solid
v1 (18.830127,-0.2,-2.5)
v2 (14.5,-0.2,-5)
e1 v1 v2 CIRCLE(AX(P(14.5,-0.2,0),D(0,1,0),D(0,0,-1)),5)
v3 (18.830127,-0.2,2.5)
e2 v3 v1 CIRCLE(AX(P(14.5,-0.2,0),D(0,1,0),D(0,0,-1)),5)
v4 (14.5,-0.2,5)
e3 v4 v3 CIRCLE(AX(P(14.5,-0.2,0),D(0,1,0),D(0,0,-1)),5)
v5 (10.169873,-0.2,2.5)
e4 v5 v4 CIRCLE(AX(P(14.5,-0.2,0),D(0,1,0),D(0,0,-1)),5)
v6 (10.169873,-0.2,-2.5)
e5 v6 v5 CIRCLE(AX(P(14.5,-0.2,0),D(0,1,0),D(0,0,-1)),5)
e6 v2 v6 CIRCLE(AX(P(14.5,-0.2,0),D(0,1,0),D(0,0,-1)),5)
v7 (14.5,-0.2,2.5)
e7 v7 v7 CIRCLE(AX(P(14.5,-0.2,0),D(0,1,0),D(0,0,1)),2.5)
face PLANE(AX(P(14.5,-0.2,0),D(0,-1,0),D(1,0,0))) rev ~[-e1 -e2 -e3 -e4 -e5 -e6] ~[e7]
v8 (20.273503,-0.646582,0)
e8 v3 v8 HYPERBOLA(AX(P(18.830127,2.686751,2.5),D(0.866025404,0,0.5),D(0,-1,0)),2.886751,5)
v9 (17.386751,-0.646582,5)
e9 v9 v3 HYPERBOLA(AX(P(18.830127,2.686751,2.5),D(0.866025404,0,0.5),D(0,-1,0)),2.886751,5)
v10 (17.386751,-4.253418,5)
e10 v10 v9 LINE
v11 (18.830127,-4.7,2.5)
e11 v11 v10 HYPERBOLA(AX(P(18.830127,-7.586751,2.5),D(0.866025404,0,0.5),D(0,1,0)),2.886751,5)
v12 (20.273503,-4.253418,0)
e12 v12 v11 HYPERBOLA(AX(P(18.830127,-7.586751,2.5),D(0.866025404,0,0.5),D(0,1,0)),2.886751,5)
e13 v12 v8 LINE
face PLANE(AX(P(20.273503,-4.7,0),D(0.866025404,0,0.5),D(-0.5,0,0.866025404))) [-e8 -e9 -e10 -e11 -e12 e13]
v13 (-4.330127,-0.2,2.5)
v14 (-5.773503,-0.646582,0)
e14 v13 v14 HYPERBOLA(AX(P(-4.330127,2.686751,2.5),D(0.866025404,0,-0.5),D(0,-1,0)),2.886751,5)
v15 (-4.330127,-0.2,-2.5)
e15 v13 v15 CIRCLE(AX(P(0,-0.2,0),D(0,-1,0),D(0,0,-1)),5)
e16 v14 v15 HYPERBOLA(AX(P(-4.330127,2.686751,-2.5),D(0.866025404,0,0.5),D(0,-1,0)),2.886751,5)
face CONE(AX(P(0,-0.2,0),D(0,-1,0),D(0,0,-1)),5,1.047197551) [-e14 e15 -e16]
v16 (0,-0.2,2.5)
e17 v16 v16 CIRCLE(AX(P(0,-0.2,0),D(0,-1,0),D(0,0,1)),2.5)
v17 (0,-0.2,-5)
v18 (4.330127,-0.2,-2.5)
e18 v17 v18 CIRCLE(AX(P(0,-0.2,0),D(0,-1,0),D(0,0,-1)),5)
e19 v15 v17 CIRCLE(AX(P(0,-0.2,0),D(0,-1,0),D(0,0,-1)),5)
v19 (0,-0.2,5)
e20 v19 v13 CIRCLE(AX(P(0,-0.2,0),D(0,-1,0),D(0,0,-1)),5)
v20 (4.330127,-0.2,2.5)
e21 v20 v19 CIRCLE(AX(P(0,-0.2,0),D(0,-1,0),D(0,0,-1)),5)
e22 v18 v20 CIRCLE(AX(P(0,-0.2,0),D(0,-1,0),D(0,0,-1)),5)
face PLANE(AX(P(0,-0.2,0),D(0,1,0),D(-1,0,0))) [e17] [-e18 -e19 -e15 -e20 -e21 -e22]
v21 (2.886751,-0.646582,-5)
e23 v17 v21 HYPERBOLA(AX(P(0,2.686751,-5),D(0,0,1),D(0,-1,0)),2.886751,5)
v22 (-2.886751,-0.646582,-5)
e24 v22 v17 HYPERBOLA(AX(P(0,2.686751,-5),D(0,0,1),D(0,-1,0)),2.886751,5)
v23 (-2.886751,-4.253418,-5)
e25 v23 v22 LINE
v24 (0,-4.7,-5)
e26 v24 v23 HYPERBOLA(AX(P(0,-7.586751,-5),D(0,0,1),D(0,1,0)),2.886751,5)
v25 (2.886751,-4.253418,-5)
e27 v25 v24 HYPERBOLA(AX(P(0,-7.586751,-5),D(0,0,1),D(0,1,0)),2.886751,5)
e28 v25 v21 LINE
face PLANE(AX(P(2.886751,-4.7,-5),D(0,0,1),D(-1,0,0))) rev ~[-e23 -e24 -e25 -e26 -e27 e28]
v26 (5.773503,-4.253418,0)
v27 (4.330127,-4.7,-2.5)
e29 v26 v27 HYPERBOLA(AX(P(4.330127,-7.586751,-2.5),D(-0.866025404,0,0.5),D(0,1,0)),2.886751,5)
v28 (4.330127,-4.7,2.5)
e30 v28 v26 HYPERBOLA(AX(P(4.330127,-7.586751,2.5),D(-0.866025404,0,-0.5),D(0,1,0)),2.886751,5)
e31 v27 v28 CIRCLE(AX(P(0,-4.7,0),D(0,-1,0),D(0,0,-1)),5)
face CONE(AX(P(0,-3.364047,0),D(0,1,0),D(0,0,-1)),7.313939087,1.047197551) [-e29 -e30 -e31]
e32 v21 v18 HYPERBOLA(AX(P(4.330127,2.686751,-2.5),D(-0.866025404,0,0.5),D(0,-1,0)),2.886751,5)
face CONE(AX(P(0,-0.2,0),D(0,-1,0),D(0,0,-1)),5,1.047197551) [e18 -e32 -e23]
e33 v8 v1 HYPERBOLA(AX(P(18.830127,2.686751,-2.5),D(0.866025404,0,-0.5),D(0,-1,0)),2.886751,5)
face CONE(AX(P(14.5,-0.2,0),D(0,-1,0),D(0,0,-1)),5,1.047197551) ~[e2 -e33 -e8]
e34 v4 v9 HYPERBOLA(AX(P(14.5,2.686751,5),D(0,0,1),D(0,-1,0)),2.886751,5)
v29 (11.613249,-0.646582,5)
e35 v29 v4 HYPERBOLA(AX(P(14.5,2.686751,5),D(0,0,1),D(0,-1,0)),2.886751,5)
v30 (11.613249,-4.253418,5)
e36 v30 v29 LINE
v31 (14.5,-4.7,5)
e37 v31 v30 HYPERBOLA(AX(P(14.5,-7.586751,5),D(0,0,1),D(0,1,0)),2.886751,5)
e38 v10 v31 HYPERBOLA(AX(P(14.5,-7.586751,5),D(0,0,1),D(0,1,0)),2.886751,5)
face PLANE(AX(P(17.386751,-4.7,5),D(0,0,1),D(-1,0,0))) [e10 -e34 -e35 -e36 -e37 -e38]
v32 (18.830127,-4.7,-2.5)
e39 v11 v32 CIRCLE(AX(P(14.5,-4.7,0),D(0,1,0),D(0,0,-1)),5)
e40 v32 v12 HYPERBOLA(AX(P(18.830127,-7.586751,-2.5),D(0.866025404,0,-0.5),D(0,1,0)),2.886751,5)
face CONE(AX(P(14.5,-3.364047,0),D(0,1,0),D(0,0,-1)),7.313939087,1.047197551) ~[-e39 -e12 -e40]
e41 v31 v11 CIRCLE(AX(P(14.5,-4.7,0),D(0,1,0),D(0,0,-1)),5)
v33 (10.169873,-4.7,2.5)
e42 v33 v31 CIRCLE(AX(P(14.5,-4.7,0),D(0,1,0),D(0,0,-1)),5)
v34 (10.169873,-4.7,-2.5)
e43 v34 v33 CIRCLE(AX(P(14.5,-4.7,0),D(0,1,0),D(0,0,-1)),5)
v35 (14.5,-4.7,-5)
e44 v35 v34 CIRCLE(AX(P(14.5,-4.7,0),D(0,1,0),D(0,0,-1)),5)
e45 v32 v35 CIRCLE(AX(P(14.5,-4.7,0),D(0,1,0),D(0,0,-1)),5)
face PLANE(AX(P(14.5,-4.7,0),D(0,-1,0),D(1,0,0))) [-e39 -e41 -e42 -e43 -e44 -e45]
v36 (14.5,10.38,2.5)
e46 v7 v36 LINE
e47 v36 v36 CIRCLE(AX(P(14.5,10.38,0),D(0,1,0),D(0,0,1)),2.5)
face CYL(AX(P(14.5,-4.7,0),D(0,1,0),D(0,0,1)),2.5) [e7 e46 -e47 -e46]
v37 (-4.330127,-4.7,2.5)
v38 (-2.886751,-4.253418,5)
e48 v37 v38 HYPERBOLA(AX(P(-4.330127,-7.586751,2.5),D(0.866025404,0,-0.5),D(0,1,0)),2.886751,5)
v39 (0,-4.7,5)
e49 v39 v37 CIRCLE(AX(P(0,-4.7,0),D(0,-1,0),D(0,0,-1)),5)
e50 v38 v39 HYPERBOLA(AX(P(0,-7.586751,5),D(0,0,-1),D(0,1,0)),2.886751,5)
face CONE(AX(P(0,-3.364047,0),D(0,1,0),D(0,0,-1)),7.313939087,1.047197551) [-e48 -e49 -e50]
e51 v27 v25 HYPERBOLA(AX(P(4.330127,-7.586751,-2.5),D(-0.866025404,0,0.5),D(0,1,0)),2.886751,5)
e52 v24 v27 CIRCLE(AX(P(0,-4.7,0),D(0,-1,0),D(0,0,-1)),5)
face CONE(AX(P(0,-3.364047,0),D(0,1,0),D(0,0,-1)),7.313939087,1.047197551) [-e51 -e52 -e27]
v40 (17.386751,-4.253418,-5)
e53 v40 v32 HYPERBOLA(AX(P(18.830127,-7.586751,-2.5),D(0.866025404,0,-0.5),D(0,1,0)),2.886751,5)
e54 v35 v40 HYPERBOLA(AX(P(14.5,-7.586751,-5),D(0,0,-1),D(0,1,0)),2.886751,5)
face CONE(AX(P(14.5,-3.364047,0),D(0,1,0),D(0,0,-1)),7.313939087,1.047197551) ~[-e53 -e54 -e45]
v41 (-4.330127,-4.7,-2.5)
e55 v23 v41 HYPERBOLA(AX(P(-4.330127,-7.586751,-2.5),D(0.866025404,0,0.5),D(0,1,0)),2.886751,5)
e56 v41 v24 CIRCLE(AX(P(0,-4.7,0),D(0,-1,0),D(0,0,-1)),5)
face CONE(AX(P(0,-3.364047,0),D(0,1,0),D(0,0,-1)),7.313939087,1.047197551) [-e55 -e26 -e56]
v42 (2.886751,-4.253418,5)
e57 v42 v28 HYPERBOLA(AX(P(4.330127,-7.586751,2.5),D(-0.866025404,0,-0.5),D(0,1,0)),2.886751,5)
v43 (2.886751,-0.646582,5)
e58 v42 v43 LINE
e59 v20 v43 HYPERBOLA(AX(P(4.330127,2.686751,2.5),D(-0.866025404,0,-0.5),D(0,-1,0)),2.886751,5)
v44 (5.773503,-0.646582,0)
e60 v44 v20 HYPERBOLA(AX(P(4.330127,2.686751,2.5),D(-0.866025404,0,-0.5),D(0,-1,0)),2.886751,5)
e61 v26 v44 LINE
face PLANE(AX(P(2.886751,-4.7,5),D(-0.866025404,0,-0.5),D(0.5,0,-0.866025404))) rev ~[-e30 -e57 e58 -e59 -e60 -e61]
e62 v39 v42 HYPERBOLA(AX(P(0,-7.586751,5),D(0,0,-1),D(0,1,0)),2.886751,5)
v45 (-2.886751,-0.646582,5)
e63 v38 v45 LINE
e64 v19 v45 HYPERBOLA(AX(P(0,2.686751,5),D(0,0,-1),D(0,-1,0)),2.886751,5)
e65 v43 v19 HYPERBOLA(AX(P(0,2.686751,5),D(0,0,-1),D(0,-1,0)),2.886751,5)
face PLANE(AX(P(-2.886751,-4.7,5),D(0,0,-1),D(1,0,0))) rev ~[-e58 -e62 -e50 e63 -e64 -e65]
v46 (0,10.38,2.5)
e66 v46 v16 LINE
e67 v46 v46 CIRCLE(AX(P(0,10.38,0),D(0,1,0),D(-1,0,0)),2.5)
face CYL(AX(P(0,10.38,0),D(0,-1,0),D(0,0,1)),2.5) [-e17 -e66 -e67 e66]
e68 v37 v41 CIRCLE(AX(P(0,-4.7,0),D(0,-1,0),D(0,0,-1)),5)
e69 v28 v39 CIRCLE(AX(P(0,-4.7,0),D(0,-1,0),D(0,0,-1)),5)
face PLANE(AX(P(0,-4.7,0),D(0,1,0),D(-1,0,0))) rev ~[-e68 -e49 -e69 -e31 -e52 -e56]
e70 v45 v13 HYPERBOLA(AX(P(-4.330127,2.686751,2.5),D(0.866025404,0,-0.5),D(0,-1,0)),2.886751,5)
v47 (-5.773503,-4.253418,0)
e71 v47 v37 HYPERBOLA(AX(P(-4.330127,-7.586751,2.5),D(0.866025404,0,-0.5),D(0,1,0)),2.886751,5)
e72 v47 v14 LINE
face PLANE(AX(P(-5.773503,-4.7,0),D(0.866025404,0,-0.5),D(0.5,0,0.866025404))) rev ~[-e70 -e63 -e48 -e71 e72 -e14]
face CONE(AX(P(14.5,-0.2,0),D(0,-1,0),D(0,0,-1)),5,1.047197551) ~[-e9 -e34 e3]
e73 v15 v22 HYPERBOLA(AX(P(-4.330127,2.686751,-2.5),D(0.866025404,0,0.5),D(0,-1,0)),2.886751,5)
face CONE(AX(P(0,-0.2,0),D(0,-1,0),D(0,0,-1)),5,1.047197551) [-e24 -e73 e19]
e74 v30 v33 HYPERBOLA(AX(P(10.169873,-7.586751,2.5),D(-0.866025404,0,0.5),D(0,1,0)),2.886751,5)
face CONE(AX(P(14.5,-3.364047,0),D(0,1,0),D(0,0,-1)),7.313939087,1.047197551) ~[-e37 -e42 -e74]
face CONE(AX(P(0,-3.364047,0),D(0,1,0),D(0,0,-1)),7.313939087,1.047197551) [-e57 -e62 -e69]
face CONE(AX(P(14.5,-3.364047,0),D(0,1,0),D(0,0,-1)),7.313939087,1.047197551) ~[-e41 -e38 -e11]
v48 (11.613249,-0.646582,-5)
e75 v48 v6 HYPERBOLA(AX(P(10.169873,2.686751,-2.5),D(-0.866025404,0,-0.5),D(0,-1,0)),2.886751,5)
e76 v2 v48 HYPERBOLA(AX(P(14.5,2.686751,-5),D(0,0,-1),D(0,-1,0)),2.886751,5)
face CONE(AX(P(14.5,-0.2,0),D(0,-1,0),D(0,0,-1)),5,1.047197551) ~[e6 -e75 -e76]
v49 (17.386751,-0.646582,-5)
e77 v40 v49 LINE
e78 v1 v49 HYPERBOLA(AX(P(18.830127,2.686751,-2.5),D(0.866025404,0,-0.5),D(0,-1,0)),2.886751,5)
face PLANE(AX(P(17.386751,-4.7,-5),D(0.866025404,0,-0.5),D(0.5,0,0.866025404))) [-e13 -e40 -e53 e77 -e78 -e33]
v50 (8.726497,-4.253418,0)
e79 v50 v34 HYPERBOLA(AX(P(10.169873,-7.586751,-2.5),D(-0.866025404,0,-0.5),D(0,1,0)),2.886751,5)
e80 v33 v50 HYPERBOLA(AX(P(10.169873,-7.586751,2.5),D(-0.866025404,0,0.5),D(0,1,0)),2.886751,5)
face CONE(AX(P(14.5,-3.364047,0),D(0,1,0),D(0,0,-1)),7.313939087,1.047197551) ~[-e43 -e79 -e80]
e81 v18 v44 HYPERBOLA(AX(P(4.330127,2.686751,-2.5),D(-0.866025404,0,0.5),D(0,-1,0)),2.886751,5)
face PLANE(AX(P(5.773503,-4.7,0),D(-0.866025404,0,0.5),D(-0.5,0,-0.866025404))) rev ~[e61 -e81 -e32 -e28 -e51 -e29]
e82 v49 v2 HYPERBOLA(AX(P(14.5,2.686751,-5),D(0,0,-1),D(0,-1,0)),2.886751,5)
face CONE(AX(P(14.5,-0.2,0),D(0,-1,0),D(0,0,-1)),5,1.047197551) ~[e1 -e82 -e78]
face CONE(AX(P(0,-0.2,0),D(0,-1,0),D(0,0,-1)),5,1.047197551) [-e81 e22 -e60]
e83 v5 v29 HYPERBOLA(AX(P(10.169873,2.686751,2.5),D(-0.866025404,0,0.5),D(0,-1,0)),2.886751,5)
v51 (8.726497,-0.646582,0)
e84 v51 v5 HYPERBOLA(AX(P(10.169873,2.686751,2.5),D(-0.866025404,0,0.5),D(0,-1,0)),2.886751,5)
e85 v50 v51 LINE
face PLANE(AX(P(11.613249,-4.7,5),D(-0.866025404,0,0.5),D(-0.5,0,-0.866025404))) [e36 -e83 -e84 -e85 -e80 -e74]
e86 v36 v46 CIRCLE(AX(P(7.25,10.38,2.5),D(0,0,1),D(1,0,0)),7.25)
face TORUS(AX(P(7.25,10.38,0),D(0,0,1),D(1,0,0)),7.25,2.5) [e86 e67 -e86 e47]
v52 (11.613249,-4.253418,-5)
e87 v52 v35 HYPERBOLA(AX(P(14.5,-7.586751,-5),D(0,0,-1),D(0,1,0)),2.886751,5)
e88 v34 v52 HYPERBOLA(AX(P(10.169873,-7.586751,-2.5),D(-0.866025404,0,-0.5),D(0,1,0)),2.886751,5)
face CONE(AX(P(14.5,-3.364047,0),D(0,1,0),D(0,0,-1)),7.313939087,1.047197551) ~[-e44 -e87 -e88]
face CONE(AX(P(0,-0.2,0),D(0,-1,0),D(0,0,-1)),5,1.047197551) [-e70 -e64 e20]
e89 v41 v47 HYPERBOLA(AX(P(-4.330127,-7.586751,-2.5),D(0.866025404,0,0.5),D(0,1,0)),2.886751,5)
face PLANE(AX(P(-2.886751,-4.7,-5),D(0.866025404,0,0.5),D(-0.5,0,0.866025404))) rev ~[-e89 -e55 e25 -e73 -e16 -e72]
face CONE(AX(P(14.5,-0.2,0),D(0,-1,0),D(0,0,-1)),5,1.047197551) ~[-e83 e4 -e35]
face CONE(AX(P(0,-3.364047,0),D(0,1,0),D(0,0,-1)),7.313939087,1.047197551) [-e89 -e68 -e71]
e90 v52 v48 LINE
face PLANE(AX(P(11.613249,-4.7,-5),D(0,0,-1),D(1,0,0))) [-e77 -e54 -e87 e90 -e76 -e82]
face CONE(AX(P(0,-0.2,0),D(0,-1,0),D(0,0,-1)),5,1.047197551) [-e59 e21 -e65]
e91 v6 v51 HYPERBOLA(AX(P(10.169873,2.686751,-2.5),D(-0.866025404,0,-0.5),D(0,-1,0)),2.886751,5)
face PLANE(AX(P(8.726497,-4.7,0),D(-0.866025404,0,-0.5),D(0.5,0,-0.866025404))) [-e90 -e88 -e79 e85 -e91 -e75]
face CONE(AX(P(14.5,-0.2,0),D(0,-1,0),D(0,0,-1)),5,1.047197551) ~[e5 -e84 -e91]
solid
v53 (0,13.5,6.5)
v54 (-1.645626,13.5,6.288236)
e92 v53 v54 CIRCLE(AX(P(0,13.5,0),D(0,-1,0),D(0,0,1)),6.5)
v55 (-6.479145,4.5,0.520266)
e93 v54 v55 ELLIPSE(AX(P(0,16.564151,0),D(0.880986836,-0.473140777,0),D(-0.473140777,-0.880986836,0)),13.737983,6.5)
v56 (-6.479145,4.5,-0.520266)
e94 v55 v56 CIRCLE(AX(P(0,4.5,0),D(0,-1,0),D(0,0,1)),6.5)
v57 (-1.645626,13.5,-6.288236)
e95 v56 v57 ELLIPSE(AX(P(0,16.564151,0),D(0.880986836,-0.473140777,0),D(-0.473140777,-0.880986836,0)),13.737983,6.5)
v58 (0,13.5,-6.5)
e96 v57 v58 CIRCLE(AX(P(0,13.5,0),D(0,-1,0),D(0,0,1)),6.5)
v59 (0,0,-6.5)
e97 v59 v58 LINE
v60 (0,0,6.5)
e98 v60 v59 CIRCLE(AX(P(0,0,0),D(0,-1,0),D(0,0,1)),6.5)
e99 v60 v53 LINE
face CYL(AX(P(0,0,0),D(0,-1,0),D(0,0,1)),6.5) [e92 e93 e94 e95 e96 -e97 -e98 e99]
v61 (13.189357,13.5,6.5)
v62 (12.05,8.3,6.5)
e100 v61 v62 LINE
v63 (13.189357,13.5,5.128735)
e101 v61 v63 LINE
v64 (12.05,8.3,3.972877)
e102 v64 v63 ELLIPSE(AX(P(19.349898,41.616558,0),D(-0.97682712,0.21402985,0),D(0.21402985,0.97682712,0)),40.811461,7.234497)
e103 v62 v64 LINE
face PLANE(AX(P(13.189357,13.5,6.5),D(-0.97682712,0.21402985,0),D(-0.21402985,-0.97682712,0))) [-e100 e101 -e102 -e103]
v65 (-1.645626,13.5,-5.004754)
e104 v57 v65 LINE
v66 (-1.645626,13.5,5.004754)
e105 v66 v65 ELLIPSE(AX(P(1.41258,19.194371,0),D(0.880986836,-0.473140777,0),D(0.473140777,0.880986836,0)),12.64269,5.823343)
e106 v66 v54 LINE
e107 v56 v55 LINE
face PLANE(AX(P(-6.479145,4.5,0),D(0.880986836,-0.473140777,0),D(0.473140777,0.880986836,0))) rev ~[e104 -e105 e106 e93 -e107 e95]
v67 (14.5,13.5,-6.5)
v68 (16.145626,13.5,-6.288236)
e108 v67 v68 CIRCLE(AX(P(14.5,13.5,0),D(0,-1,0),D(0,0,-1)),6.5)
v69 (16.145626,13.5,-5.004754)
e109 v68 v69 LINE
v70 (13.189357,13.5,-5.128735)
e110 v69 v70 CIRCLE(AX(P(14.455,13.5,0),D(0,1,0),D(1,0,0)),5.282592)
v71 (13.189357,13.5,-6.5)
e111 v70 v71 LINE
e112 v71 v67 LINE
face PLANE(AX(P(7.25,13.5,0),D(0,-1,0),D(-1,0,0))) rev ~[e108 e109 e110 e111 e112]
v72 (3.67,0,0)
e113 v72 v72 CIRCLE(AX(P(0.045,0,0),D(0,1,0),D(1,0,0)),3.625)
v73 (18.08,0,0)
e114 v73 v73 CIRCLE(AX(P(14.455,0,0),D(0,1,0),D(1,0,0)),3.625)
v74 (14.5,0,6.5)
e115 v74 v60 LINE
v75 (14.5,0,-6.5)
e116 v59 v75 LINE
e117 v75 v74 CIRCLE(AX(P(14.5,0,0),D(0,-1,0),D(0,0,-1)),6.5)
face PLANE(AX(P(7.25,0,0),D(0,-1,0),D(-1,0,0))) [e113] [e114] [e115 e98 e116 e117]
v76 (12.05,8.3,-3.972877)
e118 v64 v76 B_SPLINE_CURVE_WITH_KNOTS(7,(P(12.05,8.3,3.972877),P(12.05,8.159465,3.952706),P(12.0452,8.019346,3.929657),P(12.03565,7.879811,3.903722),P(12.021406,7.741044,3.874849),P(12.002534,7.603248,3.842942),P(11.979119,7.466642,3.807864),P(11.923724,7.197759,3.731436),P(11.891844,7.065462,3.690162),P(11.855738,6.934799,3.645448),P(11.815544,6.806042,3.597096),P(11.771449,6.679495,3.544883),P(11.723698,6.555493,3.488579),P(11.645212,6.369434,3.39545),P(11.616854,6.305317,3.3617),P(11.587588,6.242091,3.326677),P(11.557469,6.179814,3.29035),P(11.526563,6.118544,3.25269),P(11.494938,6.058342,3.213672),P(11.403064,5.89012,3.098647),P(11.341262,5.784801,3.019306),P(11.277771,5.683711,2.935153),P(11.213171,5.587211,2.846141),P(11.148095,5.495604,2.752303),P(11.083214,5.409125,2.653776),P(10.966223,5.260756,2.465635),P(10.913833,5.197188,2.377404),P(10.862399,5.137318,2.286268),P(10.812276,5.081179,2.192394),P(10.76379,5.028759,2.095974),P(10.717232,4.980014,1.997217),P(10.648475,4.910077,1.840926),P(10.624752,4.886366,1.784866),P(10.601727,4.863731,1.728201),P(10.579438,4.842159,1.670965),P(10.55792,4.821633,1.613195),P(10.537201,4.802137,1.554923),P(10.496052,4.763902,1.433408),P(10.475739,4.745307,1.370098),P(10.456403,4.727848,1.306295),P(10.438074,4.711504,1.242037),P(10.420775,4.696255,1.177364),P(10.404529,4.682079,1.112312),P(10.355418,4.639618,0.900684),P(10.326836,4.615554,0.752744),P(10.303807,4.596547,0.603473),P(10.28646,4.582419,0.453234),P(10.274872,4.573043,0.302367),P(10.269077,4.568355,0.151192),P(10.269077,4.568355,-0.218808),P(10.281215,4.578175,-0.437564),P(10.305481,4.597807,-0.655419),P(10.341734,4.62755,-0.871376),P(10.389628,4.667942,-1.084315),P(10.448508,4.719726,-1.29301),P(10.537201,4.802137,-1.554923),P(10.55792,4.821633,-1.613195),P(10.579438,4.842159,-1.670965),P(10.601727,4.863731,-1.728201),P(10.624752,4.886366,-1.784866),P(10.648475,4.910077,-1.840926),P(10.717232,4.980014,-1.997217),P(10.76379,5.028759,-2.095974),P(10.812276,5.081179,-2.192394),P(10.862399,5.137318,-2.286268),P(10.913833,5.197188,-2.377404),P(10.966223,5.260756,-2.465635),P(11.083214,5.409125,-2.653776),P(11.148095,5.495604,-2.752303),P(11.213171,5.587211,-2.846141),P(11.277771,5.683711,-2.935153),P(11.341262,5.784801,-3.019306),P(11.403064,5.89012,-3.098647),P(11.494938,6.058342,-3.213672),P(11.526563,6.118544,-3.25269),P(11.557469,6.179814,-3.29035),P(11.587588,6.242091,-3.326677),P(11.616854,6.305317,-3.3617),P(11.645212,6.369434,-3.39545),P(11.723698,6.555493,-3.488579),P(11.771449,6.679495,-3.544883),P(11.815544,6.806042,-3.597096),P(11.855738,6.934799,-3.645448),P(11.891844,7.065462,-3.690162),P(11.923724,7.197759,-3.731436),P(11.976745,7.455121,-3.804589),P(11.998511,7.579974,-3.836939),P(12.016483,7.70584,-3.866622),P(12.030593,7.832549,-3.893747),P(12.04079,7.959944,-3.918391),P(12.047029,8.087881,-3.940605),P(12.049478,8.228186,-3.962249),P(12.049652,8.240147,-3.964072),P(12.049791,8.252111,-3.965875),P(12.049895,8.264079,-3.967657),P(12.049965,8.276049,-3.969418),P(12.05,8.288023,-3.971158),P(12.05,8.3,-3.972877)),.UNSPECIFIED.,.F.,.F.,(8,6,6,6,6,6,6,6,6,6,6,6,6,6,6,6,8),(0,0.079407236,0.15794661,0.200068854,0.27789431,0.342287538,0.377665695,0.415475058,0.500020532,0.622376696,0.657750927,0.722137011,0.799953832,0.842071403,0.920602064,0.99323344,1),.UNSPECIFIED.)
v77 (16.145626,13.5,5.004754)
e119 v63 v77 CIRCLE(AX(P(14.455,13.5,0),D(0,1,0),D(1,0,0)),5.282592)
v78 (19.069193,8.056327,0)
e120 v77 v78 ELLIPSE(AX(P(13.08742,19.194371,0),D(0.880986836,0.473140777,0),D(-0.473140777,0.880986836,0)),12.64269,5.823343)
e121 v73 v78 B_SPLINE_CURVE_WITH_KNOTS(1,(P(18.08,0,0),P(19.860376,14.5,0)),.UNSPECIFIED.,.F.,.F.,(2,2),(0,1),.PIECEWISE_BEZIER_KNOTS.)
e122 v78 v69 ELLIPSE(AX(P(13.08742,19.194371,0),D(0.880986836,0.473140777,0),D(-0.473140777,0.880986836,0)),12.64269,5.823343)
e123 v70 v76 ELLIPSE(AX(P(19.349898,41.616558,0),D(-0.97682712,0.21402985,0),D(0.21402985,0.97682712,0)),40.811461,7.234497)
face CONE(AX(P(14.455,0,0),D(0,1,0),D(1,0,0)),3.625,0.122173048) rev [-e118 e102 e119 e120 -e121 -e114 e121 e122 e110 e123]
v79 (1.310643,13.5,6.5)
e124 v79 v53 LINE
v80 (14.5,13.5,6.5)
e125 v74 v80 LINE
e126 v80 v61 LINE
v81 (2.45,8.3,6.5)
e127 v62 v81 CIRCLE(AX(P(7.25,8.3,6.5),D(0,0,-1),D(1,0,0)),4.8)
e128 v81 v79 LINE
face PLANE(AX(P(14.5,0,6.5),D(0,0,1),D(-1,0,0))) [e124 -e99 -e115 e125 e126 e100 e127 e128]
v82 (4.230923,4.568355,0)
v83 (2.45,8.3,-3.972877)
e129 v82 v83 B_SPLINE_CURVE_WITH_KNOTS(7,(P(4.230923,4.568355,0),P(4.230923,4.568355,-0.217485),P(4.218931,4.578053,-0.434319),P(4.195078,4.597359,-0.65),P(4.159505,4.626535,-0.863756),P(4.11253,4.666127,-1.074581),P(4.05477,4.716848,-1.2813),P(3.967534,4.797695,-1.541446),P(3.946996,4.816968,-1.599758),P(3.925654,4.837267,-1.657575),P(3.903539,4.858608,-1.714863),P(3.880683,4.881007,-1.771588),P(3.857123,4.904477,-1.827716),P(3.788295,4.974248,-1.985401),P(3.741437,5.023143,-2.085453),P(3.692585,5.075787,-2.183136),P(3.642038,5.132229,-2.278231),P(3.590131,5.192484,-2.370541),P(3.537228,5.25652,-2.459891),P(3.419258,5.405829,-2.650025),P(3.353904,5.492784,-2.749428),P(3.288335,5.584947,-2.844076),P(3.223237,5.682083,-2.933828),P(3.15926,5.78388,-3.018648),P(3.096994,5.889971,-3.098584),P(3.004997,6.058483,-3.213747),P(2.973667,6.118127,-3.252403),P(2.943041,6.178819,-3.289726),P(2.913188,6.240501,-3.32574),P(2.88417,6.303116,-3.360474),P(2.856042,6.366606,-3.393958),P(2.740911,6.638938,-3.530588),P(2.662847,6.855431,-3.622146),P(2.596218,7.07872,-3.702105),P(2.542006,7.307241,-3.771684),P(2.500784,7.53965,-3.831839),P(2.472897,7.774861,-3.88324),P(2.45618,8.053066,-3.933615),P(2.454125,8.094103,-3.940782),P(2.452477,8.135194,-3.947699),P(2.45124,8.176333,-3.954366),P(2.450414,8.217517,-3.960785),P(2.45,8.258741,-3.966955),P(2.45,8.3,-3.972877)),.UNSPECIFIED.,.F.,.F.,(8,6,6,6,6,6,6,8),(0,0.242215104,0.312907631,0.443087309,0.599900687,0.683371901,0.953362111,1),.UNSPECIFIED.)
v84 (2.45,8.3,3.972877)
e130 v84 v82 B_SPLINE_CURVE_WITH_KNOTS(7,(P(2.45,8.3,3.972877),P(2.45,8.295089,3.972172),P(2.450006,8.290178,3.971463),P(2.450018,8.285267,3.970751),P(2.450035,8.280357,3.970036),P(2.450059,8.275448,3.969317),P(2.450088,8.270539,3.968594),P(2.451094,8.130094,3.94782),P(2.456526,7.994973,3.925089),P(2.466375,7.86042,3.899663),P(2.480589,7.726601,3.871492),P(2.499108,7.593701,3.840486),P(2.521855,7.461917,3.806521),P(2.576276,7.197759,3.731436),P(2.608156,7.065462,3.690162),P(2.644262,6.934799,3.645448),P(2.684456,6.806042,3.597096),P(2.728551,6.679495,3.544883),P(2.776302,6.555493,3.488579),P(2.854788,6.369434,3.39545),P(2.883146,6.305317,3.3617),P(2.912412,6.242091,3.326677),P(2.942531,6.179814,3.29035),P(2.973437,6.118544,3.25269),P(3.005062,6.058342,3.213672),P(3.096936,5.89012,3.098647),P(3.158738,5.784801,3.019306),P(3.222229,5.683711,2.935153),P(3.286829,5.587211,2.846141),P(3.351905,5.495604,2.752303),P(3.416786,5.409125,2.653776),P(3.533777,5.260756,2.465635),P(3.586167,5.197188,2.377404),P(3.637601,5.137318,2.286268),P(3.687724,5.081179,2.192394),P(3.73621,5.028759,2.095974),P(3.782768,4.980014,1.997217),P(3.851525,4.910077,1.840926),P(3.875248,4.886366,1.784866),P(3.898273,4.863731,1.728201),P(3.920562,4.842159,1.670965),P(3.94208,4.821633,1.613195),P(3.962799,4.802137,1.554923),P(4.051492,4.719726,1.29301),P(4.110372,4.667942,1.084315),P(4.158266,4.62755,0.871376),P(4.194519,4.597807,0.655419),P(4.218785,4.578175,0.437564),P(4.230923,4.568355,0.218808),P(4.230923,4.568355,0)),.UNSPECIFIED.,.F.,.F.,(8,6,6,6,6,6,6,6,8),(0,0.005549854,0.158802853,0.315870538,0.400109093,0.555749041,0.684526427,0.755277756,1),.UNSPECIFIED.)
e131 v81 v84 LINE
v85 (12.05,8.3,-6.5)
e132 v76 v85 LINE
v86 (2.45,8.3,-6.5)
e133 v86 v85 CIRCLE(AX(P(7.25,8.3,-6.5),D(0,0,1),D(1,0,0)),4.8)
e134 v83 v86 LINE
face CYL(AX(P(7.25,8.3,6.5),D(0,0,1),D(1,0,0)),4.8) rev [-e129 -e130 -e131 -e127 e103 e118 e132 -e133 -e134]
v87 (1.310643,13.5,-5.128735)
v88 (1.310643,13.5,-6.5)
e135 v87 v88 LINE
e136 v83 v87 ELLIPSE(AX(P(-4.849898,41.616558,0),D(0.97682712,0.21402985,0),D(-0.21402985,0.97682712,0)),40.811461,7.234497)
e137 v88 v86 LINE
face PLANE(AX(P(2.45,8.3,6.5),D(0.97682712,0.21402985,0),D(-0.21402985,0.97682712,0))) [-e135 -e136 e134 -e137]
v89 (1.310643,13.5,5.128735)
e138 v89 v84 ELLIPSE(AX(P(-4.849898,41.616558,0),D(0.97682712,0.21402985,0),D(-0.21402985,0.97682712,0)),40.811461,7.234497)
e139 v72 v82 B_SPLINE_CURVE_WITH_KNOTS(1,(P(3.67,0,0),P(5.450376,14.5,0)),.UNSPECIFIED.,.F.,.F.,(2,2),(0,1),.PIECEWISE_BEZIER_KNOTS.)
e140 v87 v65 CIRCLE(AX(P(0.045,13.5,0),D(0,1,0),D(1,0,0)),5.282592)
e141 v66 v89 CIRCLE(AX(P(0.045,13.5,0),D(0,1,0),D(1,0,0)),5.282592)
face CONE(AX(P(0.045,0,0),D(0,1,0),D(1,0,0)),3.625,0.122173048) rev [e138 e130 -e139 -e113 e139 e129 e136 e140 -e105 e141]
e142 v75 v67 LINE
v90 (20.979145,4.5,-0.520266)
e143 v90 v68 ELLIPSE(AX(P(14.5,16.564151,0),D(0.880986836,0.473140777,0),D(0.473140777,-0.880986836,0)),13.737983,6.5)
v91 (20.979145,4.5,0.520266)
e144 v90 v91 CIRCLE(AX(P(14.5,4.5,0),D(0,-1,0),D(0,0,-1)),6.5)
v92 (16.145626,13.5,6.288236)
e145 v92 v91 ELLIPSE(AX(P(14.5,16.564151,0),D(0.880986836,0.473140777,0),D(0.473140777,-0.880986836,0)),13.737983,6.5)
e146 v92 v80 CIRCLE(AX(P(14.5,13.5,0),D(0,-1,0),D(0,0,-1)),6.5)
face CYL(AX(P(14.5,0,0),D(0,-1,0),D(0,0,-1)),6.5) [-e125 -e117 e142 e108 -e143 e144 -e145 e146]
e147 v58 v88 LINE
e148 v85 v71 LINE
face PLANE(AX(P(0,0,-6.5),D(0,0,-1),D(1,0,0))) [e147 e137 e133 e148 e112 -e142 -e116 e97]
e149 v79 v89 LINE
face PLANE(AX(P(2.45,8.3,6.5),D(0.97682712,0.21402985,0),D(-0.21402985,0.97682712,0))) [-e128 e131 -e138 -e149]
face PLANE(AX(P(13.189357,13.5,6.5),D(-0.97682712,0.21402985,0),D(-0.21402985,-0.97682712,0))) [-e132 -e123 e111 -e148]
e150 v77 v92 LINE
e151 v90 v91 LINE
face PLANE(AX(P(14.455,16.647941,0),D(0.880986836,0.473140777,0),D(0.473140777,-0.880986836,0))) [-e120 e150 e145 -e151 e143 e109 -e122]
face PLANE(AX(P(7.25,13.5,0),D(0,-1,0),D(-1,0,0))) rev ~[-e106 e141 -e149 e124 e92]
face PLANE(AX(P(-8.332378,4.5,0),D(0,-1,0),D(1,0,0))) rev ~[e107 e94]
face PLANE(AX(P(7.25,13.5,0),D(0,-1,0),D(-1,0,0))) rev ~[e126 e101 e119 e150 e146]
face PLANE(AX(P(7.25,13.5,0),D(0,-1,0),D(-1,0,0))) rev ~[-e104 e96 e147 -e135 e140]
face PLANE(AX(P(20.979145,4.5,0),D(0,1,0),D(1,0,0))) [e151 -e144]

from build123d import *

# Parameters (mm, degrees)
BOSS_EXTRUDE1_DEPTH = 13.5
SKETCH2_R           = 3.625
CUT_EXTRUDE1_DEPTH  = 14.5
CUT_EXTRUDE1_TAPER  = -7
CUT_EXTRUDE2_DEPTH  = 14
CUT_EXTRUDE5_DEPTH  = 17
SWEEP1_PROFILE_R    = 2.5
BOSS_EXTRUDE2_DEPTH = 4.5


with BuildPart() as part:
    # Sketch1 → Boss-Extrude1 (new body)
    with BuildSketch(Plane(origin=(0, 0, 0), x_dir=(1, 0, 0), z_dir=(0, 1, 0))):
        with BuildLine():
            Line((0, 6.5), (14.5, 6.5))
            ThreePointArc((14.5, 6.5), (21, 0), (14.5, -6.5))
            Line((14.5, -6.5), (0, -6.5))
            ThreePointArc((0, -6.5), (-6.5, 0), (0, 6.5))
        make_face()
    extrude(amount=BOSS_EXTRUDE1_DEPTH)

    # Sketch2 → Cut-Extrude1 (cut, through all)
    with BuildSketch(Plane.XZ):
        with Locations((14.455, 0)):
            Circle(SKETCH2_R)
        with Locations((0.045, 0)):
            Circle(SKETCH2_R)
    extrude(amount=-CUT_EXTRUDE1_DEPTH, taper=CUT_EXTRUDE1_TAPER, mode=Mode.SUBTRACT)

    # Sketch3 → Cut-Extrude2 (cut, through all)
    with BuildSketch(Plane.XY.offset(6.5)):
        with BuildLine():
            Line((2.45, 8.3), (1.310642586, 13.5))
            Line((1.310642586, 13.5), (13.189357414, 13.5))
            Line((13.189357414, 13.5), (12.05, 8.3))
            ThreePointArc((12.05, 8.3), (7.25, 3.5), (2.45, 8.3))
        make_face()
    extrude(amount=-CUT_EXTRUDE2_DEPTH, mode=Mode.SUBTRACT)

    # Sketch5 → Cut-Extrude5 (cut, symmetric)
    with BuildSketch(Plane.XY):
        Polygon((14.455, 16.647940665), (20.97914525, 4.5), (22.832378007, 4.5), (22.832378007, 16.647940665), (21.179941679, 16.647940665), align=None)
        Polygon((-8.332378007, 4.5), (-6.47914525, 4.5), (0.045, 16.647940665), (-6.679941679, 16.647940665), (-8.332378007, 16.647940665), align=None)
    extrude(amount=CUT_EXTRUDE5_DEPTH, both=True, mode=Mode.SUBTRACT)


with BuildPart() as body_2:
    # Sweep1: sweep along a path in Sketch6
    with BuildLine(Plane.XY) as sweep1_path:
        Line((14.5, -4.7), (14.5, 0))
        Line((14.5, 0), (14.5, 10.38))
        ThreePointArc((14.5, 10.38), (7.25, 17.63), (0, 10.38))
        Line((0, 10.38), (0, 0))
        Line((0, 0), (0, -4.7))
    # Sweep1 profile (on start of the path) → Sweep1 (sweep)
    with BuildSketch(Plane(origin=(14.5, -4.7, 0), x_dir=(0, 0, 1), z_dir=(0, 1, 0))):
        Circle(SWEEP1_PROFILE_R)
    sweep(path=sweep1_path.line)

    # Sketch35 → Boss-Extrude2 (add)
    with BuildSketch(Plane.XZ.offset(4.7)):
        Polygon((11.613248654, -5), (17.386751346, -5), (20.273502692, 0), (17.386751346, 5), (11.613248654, 5), (8.726497308, 0), align=None)
        Polygon((5.773502692, 0), (2.886751346, -5), (-2.886751346, -5), (-5.773502692, 0), (-2.886751346, 5), (2.886751346, 5), align=None)
    extrude(amount=-BOSS_EXTRUDE2_DEPTH)

    # Sketch36 → Cut-Revolve2 (revolve, cut)
    with BuildSketch(Plane(origin=(0, 0, 0), x_dir=(0, 0, -1), z_dir=(1, 0, 0))):
        Polygon((5, -0.2), (7.150676764, -1.441693809), (7.150676764, -0.2), align=None)
        Polygon((5, -4.7), (7.313939087, -4.7), (7.313939087, -3.364046645), align=None)
    cut_revolve2 = revolve(axis=Axis((0, 0, 0), (0, -1, 0)), mode=Mode.SUBTRACT)

    # Mirror1: Cut-Revolve2 across plane
    add(cut_revolve2.mirror(Plane.ZY.offset(-7.25)), mode=Mode.SUBTRACT)


solid = Compound([part.part, body_2.part])
